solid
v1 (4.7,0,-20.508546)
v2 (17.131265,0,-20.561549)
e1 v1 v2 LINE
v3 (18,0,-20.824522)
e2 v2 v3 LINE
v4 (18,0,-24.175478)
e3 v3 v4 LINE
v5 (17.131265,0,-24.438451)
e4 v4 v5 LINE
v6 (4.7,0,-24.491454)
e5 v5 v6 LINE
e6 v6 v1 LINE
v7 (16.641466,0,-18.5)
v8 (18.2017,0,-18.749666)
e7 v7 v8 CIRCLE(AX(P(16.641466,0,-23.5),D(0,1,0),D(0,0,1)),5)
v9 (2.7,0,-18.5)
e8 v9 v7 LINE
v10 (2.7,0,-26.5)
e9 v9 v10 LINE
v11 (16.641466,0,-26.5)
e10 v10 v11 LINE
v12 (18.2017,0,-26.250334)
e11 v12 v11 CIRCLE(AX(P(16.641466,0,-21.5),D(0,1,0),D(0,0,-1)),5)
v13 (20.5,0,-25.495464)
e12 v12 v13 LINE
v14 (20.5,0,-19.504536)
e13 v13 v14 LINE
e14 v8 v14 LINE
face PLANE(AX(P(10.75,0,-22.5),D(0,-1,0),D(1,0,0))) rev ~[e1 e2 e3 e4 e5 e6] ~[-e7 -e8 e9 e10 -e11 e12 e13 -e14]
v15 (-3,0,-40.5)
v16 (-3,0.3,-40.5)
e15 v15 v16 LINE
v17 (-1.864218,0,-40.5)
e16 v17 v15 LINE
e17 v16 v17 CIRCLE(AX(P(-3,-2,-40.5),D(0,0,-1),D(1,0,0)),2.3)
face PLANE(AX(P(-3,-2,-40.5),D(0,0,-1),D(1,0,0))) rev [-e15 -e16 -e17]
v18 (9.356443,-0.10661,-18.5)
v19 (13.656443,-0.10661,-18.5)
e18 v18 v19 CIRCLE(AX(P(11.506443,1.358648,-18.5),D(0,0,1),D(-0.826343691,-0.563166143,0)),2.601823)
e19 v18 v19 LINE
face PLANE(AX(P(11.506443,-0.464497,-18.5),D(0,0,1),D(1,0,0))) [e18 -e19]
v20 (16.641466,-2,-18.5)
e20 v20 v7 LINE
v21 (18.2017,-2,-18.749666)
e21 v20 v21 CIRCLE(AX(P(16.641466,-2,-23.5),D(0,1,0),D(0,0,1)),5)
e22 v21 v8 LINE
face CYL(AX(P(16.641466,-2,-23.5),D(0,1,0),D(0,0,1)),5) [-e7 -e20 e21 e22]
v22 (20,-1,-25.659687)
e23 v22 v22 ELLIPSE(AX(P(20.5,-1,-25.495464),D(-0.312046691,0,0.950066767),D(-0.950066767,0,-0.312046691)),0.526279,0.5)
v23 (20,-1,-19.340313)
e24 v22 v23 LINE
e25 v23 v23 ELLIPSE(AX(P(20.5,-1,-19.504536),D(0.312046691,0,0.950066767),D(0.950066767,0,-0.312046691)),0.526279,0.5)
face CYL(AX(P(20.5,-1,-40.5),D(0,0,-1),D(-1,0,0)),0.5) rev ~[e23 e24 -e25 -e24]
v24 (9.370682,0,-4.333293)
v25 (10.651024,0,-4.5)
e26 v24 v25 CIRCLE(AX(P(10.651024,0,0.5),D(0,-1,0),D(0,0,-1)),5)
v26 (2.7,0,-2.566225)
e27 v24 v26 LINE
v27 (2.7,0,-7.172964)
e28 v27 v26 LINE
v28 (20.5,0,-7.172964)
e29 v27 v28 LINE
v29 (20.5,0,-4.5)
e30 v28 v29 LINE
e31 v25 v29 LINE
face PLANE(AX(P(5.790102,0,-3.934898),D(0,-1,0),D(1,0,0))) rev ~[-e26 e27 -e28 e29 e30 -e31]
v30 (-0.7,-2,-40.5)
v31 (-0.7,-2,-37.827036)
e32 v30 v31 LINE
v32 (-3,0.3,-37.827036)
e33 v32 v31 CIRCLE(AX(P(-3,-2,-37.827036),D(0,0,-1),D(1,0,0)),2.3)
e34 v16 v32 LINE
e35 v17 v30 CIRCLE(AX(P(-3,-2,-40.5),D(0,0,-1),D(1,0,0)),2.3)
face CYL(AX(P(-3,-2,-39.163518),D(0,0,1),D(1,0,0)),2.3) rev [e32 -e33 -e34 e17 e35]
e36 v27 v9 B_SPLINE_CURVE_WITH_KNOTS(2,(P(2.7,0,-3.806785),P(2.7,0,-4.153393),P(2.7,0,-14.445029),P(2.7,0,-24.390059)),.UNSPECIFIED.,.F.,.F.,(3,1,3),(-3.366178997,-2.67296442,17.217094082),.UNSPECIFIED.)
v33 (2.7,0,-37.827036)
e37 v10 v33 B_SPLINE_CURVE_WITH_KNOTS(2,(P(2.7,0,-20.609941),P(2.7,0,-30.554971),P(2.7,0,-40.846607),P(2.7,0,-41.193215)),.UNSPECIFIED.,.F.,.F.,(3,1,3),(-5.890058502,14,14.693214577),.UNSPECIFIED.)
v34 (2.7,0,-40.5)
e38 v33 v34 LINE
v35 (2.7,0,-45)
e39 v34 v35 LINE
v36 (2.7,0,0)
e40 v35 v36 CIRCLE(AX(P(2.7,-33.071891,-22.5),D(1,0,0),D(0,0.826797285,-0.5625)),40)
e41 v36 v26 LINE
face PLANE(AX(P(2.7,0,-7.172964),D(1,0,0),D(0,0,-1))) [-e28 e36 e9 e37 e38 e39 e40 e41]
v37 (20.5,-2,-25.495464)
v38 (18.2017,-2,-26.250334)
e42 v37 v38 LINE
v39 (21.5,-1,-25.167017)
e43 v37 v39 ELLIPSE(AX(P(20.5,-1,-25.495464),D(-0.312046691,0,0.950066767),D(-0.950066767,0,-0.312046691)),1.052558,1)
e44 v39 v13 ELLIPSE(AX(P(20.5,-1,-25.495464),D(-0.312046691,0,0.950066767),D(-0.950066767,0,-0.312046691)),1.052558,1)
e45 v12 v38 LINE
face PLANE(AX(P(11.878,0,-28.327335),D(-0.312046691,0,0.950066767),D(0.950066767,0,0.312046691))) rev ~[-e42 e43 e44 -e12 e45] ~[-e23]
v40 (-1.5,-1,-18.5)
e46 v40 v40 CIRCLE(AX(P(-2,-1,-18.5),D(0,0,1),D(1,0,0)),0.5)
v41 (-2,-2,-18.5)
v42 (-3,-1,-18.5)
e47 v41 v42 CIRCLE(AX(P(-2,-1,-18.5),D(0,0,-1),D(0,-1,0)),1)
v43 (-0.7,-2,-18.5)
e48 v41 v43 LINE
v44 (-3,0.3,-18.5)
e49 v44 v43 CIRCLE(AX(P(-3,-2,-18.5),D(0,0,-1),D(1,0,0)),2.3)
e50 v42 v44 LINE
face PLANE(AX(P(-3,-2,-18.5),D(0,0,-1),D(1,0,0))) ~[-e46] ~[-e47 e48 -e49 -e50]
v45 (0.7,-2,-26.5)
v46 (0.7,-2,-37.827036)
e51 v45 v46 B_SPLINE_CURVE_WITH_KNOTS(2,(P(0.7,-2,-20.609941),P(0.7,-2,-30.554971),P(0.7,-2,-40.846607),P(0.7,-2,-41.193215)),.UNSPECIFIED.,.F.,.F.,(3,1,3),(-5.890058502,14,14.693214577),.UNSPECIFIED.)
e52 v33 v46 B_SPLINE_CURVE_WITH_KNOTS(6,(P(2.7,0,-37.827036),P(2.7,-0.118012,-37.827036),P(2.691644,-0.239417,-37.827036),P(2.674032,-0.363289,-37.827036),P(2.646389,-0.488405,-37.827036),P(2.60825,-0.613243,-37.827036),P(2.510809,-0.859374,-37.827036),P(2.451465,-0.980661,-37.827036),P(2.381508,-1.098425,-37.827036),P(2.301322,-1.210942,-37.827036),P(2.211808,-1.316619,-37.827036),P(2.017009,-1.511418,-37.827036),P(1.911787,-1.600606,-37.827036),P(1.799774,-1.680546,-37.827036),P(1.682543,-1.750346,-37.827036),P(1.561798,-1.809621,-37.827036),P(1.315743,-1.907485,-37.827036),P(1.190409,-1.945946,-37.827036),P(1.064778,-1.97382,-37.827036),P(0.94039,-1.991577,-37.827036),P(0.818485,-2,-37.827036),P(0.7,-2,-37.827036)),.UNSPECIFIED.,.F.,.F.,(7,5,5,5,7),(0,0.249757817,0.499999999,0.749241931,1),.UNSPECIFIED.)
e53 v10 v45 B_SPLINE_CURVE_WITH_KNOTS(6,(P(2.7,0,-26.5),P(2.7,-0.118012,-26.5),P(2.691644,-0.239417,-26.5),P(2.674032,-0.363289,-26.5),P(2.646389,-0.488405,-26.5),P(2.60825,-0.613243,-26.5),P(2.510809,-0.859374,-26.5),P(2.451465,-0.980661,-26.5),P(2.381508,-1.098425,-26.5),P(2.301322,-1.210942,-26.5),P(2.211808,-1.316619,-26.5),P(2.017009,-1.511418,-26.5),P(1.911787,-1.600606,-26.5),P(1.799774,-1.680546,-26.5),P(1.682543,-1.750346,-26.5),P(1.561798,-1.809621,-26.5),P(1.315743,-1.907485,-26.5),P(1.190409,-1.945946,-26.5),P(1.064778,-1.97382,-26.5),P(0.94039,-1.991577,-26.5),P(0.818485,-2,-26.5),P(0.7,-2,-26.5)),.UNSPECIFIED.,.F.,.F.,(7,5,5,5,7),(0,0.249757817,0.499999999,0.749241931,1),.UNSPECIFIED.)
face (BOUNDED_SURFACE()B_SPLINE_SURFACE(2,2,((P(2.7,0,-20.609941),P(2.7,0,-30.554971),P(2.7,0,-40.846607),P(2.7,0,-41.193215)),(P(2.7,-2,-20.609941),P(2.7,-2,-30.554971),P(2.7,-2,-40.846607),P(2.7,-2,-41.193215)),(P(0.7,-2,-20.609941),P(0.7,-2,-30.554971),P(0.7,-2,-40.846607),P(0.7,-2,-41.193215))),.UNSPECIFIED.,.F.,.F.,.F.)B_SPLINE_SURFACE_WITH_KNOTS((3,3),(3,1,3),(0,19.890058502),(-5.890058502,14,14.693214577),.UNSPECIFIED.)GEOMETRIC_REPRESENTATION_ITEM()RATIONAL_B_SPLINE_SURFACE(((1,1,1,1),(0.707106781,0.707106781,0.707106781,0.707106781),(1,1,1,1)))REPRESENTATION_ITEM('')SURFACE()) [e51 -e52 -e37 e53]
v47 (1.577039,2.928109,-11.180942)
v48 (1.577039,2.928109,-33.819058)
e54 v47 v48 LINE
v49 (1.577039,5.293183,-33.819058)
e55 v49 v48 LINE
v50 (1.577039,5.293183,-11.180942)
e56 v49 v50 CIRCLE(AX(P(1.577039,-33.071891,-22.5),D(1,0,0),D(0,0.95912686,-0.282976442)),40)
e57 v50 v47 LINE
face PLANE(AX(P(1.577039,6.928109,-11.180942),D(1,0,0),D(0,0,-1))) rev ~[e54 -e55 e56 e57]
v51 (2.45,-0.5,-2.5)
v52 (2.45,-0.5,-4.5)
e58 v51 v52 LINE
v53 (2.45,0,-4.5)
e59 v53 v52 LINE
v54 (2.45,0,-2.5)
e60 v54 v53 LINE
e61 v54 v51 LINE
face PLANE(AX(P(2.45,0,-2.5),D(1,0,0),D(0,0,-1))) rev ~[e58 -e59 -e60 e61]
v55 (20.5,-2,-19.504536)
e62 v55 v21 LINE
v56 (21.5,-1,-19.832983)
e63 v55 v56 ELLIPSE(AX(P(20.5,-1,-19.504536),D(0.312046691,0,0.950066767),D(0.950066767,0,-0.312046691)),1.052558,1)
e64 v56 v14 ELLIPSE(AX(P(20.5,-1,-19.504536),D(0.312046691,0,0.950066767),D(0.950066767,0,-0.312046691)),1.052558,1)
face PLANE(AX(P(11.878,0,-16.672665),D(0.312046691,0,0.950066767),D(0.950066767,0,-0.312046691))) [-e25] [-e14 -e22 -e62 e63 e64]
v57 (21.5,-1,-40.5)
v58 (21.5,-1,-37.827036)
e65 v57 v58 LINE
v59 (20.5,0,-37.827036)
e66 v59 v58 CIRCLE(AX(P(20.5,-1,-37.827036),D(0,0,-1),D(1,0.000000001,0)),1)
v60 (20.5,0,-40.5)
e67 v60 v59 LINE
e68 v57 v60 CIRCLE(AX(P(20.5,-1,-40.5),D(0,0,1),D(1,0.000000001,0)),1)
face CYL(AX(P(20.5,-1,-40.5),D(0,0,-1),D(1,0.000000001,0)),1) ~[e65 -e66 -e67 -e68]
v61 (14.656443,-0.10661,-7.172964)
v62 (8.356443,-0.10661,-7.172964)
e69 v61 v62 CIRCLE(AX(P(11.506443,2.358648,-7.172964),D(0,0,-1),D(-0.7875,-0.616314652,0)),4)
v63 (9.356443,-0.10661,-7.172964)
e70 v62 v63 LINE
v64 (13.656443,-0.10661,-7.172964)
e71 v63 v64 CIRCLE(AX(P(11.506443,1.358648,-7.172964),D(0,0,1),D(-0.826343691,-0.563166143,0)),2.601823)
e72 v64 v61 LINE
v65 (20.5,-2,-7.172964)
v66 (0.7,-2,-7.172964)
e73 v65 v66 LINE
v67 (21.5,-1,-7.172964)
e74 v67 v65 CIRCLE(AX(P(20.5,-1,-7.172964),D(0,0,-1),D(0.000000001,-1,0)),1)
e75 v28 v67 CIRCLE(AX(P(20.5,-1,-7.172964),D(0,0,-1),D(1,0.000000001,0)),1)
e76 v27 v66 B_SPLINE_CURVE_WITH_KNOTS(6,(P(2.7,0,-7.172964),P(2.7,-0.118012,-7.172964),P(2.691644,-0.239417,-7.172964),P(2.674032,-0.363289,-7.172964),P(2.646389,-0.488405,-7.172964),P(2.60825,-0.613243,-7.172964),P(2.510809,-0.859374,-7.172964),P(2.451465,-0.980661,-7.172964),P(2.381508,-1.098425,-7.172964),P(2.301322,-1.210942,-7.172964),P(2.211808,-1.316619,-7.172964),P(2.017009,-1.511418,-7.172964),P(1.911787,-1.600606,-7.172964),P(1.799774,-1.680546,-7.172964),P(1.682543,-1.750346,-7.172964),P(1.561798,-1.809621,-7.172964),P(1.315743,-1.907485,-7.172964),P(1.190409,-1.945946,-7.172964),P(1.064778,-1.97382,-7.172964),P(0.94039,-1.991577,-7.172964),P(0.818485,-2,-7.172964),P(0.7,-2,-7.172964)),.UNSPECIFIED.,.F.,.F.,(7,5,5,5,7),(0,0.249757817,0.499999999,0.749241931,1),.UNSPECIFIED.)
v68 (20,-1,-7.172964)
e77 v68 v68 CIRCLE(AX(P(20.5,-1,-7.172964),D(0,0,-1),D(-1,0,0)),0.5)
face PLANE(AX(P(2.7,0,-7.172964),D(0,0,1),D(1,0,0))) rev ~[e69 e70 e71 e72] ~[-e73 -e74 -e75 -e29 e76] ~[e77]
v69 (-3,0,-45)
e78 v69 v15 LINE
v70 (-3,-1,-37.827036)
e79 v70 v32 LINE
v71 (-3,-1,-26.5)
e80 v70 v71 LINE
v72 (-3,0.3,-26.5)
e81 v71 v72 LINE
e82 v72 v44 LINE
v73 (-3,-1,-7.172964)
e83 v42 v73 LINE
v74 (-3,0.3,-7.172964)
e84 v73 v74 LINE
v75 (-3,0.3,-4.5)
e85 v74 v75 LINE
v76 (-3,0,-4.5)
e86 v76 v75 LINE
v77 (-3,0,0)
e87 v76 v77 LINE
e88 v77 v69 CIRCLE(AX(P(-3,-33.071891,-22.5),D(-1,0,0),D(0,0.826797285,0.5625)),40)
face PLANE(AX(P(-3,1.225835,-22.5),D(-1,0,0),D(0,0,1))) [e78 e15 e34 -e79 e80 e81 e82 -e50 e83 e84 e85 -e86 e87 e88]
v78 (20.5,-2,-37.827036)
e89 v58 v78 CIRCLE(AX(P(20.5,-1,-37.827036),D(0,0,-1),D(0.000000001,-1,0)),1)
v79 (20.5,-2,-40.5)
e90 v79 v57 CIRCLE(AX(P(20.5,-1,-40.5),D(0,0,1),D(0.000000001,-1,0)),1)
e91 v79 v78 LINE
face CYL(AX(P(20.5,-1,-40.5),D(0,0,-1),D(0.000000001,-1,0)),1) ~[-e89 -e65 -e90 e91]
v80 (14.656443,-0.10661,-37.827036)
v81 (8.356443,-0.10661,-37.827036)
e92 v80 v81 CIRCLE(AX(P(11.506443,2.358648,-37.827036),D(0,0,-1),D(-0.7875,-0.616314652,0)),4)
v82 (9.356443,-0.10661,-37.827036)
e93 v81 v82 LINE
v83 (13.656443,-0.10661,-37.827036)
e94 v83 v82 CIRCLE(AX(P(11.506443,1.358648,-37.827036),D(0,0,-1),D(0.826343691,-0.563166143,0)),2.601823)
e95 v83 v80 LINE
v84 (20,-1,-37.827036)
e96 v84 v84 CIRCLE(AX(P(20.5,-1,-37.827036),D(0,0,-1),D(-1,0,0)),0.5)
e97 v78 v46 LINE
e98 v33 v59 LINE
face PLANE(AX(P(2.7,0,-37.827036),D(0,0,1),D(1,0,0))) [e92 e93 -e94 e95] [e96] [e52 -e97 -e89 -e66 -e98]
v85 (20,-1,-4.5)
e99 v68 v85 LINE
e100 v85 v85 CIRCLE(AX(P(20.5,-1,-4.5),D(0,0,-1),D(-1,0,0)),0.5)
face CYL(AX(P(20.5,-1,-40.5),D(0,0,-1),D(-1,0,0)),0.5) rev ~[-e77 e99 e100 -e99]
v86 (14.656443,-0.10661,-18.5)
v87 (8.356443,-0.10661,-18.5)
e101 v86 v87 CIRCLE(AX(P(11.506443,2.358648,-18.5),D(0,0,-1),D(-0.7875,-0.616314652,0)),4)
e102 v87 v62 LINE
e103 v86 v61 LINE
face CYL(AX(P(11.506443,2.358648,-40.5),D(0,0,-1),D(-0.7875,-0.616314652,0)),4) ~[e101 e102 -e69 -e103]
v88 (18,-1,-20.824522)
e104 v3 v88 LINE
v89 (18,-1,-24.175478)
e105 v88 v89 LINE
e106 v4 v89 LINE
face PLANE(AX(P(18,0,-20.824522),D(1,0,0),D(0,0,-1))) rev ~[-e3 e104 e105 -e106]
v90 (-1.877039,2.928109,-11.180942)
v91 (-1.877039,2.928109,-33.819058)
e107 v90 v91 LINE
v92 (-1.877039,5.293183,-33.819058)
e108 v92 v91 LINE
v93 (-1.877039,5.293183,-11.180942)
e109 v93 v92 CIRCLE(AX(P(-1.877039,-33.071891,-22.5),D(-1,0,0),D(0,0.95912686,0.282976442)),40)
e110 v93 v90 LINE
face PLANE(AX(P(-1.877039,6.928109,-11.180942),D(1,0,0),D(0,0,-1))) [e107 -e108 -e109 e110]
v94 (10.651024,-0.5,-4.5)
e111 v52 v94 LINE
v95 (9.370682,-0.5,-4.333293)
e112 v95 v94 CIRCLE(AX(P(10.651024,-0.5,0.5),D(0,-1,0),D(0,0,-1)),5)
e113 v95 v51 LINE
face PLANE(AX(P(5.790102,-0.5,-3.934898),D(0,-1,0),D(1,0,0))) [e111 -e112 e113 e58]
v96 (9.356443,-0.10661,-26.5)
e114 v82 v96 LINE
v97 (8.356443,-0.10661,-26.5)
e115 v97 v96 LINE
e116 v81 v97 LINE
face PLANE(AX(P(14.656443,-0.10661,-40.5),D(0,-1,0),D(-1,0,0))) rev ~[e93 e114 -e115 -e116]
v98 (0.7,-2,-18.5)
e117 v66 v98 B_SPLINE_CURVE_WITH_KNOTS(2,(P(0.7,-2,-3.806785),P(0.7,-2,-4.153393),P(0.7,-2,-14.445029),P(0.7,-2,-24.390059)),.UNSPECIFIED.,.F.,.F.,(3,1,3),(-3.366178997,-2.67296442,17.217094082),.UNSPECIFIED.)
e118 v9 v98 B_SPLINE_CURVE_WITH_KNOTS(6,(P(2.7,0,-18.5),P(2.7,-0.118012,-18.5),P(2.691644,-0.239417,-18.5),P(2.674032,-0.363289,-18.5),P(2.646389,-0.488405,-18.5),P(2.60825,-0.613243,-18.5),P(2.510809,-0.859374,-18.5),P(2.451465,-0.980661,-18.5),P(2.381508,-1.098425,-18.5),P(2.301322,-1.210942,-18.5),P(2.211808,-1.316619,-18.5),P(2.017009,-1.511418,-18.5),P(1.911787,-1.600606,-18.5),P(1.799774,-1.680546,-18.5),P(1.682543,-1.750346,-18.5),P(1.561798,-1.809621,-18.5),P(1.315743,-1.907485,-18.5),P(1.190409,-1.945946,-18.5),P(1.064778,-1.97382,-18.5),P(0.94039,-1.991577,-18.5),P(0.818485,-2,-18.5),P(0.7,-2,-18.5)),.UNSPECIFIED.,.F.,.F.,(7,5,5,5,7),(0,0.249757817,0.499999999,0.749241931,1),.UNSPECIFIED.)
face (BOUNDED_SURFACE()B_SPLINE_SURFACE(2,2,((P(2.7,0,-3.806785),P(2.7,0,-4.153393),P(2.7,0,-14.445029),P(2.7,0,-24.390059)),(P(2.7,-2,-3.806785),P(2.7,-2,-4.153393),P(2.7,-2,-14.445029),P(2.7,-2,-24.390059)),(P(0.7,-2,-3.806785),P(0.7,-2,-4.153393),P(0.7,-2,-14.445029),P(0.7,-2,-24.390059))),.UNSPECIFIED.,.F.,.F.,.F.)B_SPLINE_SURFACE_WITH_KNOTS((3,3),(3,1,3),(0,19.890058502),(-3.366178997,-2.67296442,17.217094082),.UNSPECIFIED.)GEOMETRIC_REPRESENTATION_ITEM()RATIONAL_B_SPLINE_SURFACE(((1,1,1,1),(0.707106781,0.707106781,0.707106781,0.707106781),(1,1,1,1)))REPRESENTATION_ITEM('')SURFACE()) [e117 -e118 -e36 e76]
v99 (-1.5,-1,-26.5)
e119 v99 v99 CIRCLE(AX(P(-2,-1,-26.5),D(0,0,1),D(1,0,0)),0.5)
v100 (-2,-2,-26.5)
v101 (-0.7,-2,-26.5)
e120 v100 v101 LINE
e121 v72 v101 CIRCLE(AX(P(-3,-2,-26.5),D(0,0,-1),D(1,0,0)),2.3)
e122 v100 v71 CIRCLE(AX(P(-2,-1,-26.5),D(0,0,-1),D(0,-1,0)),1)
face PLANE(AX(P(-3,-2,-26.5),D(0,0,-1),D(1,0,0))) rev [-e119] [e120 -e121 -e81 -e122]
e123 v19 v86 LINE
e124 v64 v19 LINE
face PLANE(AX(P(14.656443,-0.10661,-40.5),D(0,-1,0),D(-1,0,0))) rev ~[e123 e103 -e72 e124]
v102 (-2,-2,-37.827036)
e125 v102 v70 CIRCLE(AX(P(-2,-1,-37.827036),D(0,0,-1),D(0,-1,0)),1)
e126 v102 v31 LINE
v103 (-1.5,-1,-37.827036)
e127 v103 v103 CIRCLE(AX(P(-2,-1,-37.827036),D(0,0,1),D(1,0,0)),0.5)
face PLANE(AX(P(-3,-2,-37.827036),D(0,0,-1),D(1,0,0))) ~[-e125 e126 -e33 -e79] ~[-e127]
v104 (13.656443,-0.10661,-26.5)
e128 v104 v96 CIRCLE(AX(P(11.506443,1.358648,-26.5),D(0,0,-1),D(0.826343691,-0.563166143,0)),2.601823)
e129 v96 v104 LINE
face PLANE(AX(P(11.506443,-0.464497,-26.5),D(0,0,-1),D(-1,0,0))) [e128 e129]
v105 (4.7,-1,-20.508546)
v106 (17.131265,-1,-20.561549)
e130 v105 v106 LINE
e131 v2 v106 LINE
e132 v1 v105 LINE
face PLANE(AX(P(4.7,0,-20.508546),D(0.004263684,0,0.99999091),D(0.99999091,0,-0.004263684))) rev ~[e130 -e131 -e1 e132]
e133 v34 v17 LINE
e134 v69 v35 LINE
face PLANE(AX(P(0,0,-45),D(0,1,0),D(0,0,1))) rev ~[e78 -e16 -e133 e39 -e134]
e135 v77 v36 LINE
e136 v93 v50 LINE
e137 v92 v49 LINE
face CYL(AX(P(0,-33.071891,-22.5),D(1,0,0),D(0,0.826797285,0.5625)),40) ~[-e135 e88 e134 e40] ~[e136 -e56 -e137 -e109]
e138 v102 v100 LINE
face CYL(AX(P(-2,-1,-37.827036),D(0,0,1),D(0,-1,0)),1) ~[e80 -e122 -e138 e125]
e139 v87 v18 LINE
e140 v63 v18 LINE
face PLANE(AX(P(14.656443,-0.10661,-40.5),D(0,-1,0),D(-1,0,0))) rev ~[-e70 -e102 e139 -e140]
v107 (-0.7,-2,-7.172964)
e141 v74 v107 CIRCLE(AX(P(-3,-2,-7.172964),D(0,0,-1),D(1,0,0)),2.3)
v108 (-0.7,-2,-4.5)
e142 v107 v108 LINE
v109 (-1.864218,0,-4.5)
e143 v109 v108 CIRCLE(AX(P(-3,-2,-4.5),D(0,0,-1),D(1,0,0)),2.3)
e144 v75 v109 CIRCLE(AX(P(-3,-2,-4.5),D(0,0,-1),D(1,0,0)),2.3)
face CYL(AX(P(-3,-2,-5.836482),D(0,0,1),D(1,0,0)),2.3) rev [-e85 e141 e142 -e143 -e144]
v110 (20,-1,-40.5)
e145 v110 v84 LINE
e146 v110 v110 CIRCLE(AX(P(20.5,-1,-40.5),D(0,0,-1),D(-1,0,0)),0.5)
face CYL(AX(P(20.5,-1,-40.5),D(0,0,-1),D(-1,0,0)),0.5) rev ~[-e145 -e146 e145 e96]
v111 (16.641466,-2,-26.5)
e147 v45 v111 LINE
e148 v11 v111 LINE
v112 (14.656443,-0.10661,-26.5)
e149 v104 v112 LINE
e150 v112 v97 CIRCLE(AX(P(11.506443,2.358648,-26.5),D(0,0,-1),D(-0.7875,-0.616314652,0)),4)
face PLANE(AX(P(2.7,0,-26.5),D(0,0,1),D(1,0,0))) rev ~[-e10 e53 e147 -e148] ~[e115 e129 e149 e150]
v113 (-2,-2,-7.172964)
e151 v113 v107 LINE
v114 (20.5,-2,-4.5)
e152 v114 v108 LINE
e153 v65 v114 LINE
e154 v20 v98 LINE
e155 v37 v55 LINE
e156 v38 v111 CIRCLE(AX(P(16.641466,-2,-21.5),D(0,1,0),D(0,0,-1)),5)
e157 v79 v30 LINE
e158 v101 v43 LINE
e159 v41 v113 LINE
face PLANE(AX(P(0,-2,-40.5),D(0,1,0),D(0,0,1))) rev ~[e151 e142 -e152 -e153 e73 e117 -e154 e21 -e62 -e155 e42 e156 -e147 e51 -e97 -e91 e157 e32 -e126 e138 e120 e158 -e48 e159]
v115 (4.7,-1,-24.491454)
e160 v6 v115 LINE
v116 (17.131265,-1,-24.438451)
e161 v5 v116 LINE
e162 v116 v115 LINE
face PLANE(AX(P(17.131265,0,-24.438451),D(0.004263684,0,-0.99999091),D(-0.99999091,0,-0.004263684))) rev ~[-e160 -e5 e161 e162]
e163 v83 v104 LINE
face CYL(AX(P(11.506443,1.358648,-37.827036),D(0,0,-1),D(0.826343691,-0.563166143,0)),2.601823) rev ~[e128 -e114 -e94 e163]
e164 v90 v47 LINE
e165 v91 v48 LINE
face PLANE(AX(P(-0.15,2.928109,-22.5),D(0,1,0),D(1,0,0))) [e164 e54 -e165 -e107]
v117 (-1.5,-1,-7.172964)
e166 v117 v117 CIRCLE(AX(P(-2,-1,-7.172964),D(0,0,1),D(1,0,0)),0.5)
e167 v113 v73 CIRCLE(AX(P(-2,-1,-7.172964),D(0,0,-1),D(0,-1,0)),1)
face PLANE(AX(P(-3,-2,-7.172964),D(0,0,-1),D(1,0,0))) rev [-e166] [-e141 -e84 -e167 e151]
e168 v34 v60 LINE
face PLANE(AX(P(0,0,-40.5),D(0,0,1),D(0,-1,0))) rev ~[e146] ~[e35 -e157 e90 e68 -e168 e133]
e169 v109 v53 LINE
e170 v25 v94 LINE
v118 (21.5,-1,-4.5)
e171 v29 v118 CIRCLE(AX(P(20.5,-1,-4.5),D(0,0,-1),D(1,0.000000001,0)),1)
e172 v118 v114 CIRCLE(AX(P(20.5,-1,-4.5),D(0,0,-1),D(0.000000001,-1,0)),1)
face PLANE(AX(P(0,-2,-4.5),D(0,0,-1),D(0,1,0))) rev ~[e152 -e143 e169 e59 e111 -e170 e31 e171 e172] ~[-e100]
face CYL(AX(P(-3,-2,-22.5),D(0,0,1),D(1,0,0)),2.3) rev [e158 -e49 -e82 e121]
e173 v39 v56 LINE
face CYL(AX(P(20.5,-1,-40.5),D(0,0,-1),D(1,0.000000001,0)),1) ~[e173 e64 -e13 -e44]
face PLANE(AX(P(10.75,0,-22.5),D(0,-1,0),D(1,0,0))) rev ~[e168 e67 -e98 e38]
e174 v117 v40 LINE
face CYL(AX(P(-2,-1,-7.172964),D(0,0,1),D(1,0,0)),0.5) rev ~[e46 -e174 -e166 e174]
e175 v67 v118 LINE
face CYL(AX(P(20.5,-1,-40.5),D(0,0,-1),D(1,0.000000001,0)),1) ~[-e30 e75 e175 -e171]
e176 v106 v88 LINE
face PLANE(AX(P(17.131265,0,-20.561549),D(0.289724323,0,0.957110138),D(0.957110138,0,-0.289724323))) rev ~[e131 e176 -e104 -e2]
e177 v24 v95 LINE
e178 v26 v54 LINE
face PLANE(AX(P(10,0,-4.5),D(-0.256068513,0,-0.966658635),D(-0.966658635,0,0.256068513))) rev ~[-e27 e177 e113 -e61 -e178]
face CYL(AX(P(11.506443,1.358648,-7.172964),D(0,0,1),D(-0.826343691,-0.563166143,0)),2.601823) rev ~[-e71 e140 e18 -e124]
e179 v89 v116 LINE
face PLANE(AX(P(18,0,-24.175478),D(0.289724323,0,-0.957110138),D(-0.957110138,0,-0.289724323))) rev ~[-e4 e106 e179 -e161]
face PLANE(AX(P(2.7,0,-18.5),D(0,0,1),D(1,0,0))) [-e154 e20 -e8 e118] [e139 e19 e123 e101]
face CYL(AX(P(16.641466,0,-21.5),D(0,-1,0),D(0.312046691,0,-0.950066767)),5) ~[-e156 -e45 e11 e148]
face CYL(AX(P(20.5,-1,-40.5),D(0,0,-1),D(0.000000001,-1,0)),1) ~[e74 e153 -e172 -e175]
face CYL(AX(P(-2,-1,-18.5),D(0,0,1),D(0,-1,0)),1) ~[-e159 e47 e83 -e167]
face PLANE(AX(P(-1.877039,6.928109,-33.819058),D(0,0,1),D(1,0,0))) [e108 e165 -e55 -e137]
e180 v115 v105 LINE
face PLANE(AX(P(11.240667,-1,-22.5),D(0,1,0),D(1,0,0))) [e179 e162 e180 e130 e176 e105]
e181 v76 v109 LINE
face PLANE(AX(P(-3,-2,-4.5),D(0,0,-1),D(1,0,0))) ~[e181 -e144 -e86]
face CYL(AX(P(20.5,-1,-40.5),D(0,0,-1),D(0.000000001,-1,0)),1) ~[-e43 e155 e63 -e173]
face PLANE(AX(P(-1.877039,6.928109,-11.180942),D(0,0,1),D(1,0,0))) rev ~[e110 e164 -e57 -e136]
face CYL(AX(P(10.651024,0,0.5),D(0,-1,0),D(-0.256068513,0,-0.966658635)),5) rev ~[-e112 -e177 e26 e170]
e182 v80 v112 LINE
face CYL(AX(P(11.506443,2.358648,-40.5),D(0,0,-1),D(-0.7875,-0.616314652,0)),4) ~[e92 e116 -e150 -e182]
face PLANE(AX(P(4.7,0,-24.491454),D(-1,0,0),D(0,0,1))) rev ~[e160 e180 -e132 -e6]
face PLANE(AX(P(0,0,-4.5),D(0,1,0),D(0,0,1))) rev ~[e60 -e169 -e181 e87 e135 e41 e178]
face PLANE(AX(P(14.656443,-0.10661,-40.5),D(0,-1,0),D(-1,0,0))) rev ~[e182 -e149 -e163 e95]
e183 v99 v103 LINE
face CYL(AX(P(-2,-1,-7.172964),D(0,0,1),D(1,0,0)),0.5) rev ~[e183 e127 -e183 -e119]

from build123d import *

# Parameters (mm, degrees)
BOSS_EXTRUDE1_DEPTH  = 2.7
SKETCH6_W            = 21.5
SKETCH6_H            = 36
BOSS_EXTRUDE2_DEPTH  = 2
SKETCH7_W            = 18.8
SKETCH7_H            = 11.32703558
CUT_EXTRUDE3_DEPTH   = 2
CUT_EXTRUDE4_DEPTH   = 41.5
SKETCH10_R           = 0.5
CUT_EXTRUDE5_DEPTH   = 41.5
CUT_EXTRUDE15_DEPTH  = 16
FILLET6_R            = 5
BOSS_EXTRUDE6_DEPTH  = 36
CUT_EXTRUDE18_DEPTH  = 1
CUT_EXTRUDE22_DEPTH  = 11.327036
CUT_EXTRUDE23_DEPTH  = 11.327036
BOSS_EXTRUDE10_DEPTH = 3
SKETCH43_W           = 2.3
SKETCH43_H           = 2.67296442
SKETCH43_H_2         = 8
SKETCH45_R           = 0.5
CUT_EXTRUDE26_DEPTH  = 38.82703558
SKETCH47_W           = 3.454078762
SKETCH47_H           = 22.63811533
CUT_EXTRUDE27_DEPTH  = 4
FILLET13_R           = 2
FILLET15_R           = 1
BOSS_EXTRUDE5_DEPTH  = 0.5
FILLET7_R            = 5


with BuildPart() as part:
    # Sketch3 → Boss-Extrude1 (new body)
    with BuildSketch(Plane(origin=(0, 0, 0), x_dir=(0, 0, -1), z_dir=(1, 0, 0))):
        with BuildLine():
            Line((0, 0), (45, 0))
            ThreePointArc((45, 0), (22.5, 6.928108612), (0, 0))
        make_face()
    extrude(amount=BOSS_EXTRUDE1_DEPTH)

    # Sketch6 → Boss-Extrude2 (add)
    with BuildSketch(Plane.XZ):
        with Locations((10.75, -22.5)):
            Rectangle(SKETCH6_W, SKETCH6_H)
    extrude(amount=BOSS_EXTRUDE2_DEPTH)

    # Sketch7 → Cut-Extrude3 (cut)
    with BuildSketch(Plane(origin=(0, 0, 0), x_dir=(1, 0, 0), z_dir=(0, 1, 0))):
        with Locations((12.1, 32.16351779)):
            Rectangle(SKETCH7_W, SKETCH7_H)
        with Locations((12.1, 12.83648221)):
            Rectangle(SKETCH7_W, SKETCH7_H)
    extrude(amount=-CUT_EXTRUDE3_DEPTH, mode=Mode.SUBTRACT)

    # Sketch8 → Cut-Extrude4 (cut, through all)
    with BuildSketch(Plane(origin=(0, 0, -40.5), x_dir=(-1, 0, 0), z_dir=(0, 0, -1))):
        with BuildLine():
            ThreePointArc((-21.5, -1), (-21.207106781, -0.292893219), (-20.5, 0))
            Line((-20.5, 0), (-21.5, 0))
            Line((-21.5, 0), (-21.5, -1))
        make_face()
        with BuildLine():
            ThreePointArc((-20.5, -2), (-21.207106781, -1.707106781), (-21.5, -1))
            Line((-21.5, -1), (-21.5, -2))
            Line((-21.5, -2), (-20.5, -2))
        make_face()
    extrude(amount=-CUT_EXTRUDE4_DEPTH, mode=Mode.SUBTRACT)

    # Sketch10 → Cut-Extrude5 (cut, through all)
    with BuildSketch(Plane(origin=(0, 0, -40.5), x_dir=(-1, 0, 0), z_dir=(0, 0, -1))):
        with Locations((-20.5, -1)):
            Circle(SKETCH10_R)
    extrude(amount=-CUT_EXTRUDE5_DEPTH, mode=Mode.SUBTRACT)

    # Sketch23 → Cut-Extrude15 (cut)
    with BuildSketch(Plane(origin=(0, 0, 0), x_dir=(1, 0, 0), z_dir=(0, 1, 0))):
        Polygon((11.878000054, 16.672665213), (21.5, 19.832983358), (21.5, 13.512347067), align=None)
        Polygon((21.5, 25.167016642), (21.5, 31.487652933), (11.878000054, 28.327334787), align=None)
    extrude(amount=-CUT_EXTRUDE15_DEPTH, mode=Mode.SUBTRACT)

    # Fillet6
    fillet6_edges = [part.edges().sort_by_distance(p)[0] for p in [
        (17.441558662, -1, -26.5),
        (17.441558662, -1, -18.5),
    ]]
    fillet(fillet6_edges, radius=FILLET6_R)

    # Sketch31 → Boss-Extrude6 (add)
    with BuildSketch(Plane(origin=(0, 0, -40.5), x_dir=(-1, 0, 0), z_dir=(0, 0, -1))):
        with BuildLine():
            Line((-14.656442534, -0.106610148), (-8.356442534, -0.106610148))
            ThreePointArc((-8.356442534, -0.106610148), (-11.506442534, -1.641351541), (-14.656442534, -0.106610148))
        make_face()
    extrude(amount=-BOSS_EXTRUDE6_DEPTH)

    # Sketch30 → Cut-Extrude18 (cut)
    with BuildSketch(Plane(origin=(0, 0, 0), x_dir=(1, 0, 0), z_dir=(0, 1, 0))):
        Polygon((17.131265183, 24.438450908), (4.7, 24.491454375), (4.7, 20.508545625), (17.131265183, 20.561549092), (18, 20.824521551), (18, 24.175478449), align=None)
    extrude(amount=-CUT_EXTRUDE18_DEPTH, mode=Mode.SUBTRACT)

    # Sketch36 → Cut-Extrude22 (cut)
    with BuildSketch(Plane.XY.offset(-37.82703558)):
        with BuildLine():
            Line((9.356442534, -0.106610148), (13.656442534, -0.106610148))
            ThreePointArc((13.656442534, -0.106610148), (11.506442534, -1.243174514), (9.356442534, -0.106610148))
        make_face()
    extrude(amount=CUT_EXTRUDE22_DEPTH, mode=Mode.SUBTRACT)

    # Sketch37 → Cut-Extrude23 (cut)
    with BuildSketch(Plane(origin=(0, 0, -7.17296442), x_dir=(-1, 0, 0), z_dir=(0, 0, -1))):
        with BuildLine():
            Line((-13.656442534, -0.106610148), (-9.356442534, -0.106610148))
            ThreePointArc((-9.356442534, -0.106610148), (-11.506442534, -1.243174514), (-13.656442534, -0.106610148))
        make_face()
    extrude(amount=CUT_EXTRUDE23_DEPTH, mode=Mode.SUBTRACT)

    # Sketch42 → Boss-Extrude10 (add)
    with BuildSketch(Plane.ZY):
        with BuildLine():
            Line((-45, 0), (-40.5, 0))
            Line((-40.5, 0), (-40.5, -2))
            Line((-40.5, -2), (-4.5, -2))
            Line((-4.5, -2), (-4.5, 0))
            Line((-4.5, 0), (0, 0))
            ThreePointArc((0, 0), (-22.5, 6.928108612), (-45, 0))
        make_face()
    extrude(amount=BOSS_EXTRUDE10_DEPTH)

    # Sketch43 → Cut-Revolve7 (revolve, cut)
    with BuildSketch(Plane.XZ.offset(2)):
        with Locations((-1.85, -5.83648221)):
            Rectangle(SKETCH43_W, SKETCH43_H)
        with Locations((-1.85, -22.5)):
            Rectangle(SKETCH43_W, SKETCH43_H_2)
        with Locations((-1.85, -39.16351779)):
            Rectangle(SKETCH43_W, SKETCH43_H)
    revolve(axis=Axis((-3, -2, -4.5), (0, 0, -1)), mode=Mode.SUBTRACT)

    # Sketch45 → Cut-Extrude26 (cut, through all)
    with BuildSketch(Plane.XY.offset(-7.17296442)):
        with Locations((-2, -1)):
            Circle(SKETCH45_R)
    extrude(amount=-CUT_EXTRUDE26_DEPTH, mode=Mode.SUBTRACT)

    # Sketch47 → Cut-Extrude27 (cut)
    with BuildSketch(Plane(origin=(0, 6.928108612, 0), x_dir=(1, 0, 0), z_dir=(0, 1, 0))):
        with Locations((-0.15, 22.5)):
            Rectangle(SKETCH47_W, SKETCH47_H)
    extrude(amount=-CUT_EXTRUDE27_DEPTH, mode=Mode.SUBTRACT)

    # Fillet13
    fillet13_edges = [part.edges().sort_by_distance(p)[0] for p in [
        (2.7, -2, -12.83648221),
        (2.7, -2, -32.16351779),
    ]]
    fillet(fillet13_edges, radius=FILLET13_R)

    # Fillet15
    fillet15_edges = [part.edges().sort_by_distance(p)[0] for p in [
        (-3, -2, -32.16351779),
        (-3, -2, -12.83648221),
    ]]
    fillet(fillet15_edges, radius=FILLET15_R)

    # Sketch27 → Boss-Extrude5 (add)
    with BuildSketch(Plane.XZ):
        Polygon((2.45, -4.5), (10, -4.5), (2.45, -2.5), align=None)
    extrude(amount=BOSS_EXTRUDE5_DEPTH)

    # Fillet7
    fillet7_edges = [part.edges().sort_by_distance(p)[0] for p in [
        (10, -0.25, -4.5),
    ]]
    fillet(fillet7_edges, radius=FILLET7_R)


solid = part.part
